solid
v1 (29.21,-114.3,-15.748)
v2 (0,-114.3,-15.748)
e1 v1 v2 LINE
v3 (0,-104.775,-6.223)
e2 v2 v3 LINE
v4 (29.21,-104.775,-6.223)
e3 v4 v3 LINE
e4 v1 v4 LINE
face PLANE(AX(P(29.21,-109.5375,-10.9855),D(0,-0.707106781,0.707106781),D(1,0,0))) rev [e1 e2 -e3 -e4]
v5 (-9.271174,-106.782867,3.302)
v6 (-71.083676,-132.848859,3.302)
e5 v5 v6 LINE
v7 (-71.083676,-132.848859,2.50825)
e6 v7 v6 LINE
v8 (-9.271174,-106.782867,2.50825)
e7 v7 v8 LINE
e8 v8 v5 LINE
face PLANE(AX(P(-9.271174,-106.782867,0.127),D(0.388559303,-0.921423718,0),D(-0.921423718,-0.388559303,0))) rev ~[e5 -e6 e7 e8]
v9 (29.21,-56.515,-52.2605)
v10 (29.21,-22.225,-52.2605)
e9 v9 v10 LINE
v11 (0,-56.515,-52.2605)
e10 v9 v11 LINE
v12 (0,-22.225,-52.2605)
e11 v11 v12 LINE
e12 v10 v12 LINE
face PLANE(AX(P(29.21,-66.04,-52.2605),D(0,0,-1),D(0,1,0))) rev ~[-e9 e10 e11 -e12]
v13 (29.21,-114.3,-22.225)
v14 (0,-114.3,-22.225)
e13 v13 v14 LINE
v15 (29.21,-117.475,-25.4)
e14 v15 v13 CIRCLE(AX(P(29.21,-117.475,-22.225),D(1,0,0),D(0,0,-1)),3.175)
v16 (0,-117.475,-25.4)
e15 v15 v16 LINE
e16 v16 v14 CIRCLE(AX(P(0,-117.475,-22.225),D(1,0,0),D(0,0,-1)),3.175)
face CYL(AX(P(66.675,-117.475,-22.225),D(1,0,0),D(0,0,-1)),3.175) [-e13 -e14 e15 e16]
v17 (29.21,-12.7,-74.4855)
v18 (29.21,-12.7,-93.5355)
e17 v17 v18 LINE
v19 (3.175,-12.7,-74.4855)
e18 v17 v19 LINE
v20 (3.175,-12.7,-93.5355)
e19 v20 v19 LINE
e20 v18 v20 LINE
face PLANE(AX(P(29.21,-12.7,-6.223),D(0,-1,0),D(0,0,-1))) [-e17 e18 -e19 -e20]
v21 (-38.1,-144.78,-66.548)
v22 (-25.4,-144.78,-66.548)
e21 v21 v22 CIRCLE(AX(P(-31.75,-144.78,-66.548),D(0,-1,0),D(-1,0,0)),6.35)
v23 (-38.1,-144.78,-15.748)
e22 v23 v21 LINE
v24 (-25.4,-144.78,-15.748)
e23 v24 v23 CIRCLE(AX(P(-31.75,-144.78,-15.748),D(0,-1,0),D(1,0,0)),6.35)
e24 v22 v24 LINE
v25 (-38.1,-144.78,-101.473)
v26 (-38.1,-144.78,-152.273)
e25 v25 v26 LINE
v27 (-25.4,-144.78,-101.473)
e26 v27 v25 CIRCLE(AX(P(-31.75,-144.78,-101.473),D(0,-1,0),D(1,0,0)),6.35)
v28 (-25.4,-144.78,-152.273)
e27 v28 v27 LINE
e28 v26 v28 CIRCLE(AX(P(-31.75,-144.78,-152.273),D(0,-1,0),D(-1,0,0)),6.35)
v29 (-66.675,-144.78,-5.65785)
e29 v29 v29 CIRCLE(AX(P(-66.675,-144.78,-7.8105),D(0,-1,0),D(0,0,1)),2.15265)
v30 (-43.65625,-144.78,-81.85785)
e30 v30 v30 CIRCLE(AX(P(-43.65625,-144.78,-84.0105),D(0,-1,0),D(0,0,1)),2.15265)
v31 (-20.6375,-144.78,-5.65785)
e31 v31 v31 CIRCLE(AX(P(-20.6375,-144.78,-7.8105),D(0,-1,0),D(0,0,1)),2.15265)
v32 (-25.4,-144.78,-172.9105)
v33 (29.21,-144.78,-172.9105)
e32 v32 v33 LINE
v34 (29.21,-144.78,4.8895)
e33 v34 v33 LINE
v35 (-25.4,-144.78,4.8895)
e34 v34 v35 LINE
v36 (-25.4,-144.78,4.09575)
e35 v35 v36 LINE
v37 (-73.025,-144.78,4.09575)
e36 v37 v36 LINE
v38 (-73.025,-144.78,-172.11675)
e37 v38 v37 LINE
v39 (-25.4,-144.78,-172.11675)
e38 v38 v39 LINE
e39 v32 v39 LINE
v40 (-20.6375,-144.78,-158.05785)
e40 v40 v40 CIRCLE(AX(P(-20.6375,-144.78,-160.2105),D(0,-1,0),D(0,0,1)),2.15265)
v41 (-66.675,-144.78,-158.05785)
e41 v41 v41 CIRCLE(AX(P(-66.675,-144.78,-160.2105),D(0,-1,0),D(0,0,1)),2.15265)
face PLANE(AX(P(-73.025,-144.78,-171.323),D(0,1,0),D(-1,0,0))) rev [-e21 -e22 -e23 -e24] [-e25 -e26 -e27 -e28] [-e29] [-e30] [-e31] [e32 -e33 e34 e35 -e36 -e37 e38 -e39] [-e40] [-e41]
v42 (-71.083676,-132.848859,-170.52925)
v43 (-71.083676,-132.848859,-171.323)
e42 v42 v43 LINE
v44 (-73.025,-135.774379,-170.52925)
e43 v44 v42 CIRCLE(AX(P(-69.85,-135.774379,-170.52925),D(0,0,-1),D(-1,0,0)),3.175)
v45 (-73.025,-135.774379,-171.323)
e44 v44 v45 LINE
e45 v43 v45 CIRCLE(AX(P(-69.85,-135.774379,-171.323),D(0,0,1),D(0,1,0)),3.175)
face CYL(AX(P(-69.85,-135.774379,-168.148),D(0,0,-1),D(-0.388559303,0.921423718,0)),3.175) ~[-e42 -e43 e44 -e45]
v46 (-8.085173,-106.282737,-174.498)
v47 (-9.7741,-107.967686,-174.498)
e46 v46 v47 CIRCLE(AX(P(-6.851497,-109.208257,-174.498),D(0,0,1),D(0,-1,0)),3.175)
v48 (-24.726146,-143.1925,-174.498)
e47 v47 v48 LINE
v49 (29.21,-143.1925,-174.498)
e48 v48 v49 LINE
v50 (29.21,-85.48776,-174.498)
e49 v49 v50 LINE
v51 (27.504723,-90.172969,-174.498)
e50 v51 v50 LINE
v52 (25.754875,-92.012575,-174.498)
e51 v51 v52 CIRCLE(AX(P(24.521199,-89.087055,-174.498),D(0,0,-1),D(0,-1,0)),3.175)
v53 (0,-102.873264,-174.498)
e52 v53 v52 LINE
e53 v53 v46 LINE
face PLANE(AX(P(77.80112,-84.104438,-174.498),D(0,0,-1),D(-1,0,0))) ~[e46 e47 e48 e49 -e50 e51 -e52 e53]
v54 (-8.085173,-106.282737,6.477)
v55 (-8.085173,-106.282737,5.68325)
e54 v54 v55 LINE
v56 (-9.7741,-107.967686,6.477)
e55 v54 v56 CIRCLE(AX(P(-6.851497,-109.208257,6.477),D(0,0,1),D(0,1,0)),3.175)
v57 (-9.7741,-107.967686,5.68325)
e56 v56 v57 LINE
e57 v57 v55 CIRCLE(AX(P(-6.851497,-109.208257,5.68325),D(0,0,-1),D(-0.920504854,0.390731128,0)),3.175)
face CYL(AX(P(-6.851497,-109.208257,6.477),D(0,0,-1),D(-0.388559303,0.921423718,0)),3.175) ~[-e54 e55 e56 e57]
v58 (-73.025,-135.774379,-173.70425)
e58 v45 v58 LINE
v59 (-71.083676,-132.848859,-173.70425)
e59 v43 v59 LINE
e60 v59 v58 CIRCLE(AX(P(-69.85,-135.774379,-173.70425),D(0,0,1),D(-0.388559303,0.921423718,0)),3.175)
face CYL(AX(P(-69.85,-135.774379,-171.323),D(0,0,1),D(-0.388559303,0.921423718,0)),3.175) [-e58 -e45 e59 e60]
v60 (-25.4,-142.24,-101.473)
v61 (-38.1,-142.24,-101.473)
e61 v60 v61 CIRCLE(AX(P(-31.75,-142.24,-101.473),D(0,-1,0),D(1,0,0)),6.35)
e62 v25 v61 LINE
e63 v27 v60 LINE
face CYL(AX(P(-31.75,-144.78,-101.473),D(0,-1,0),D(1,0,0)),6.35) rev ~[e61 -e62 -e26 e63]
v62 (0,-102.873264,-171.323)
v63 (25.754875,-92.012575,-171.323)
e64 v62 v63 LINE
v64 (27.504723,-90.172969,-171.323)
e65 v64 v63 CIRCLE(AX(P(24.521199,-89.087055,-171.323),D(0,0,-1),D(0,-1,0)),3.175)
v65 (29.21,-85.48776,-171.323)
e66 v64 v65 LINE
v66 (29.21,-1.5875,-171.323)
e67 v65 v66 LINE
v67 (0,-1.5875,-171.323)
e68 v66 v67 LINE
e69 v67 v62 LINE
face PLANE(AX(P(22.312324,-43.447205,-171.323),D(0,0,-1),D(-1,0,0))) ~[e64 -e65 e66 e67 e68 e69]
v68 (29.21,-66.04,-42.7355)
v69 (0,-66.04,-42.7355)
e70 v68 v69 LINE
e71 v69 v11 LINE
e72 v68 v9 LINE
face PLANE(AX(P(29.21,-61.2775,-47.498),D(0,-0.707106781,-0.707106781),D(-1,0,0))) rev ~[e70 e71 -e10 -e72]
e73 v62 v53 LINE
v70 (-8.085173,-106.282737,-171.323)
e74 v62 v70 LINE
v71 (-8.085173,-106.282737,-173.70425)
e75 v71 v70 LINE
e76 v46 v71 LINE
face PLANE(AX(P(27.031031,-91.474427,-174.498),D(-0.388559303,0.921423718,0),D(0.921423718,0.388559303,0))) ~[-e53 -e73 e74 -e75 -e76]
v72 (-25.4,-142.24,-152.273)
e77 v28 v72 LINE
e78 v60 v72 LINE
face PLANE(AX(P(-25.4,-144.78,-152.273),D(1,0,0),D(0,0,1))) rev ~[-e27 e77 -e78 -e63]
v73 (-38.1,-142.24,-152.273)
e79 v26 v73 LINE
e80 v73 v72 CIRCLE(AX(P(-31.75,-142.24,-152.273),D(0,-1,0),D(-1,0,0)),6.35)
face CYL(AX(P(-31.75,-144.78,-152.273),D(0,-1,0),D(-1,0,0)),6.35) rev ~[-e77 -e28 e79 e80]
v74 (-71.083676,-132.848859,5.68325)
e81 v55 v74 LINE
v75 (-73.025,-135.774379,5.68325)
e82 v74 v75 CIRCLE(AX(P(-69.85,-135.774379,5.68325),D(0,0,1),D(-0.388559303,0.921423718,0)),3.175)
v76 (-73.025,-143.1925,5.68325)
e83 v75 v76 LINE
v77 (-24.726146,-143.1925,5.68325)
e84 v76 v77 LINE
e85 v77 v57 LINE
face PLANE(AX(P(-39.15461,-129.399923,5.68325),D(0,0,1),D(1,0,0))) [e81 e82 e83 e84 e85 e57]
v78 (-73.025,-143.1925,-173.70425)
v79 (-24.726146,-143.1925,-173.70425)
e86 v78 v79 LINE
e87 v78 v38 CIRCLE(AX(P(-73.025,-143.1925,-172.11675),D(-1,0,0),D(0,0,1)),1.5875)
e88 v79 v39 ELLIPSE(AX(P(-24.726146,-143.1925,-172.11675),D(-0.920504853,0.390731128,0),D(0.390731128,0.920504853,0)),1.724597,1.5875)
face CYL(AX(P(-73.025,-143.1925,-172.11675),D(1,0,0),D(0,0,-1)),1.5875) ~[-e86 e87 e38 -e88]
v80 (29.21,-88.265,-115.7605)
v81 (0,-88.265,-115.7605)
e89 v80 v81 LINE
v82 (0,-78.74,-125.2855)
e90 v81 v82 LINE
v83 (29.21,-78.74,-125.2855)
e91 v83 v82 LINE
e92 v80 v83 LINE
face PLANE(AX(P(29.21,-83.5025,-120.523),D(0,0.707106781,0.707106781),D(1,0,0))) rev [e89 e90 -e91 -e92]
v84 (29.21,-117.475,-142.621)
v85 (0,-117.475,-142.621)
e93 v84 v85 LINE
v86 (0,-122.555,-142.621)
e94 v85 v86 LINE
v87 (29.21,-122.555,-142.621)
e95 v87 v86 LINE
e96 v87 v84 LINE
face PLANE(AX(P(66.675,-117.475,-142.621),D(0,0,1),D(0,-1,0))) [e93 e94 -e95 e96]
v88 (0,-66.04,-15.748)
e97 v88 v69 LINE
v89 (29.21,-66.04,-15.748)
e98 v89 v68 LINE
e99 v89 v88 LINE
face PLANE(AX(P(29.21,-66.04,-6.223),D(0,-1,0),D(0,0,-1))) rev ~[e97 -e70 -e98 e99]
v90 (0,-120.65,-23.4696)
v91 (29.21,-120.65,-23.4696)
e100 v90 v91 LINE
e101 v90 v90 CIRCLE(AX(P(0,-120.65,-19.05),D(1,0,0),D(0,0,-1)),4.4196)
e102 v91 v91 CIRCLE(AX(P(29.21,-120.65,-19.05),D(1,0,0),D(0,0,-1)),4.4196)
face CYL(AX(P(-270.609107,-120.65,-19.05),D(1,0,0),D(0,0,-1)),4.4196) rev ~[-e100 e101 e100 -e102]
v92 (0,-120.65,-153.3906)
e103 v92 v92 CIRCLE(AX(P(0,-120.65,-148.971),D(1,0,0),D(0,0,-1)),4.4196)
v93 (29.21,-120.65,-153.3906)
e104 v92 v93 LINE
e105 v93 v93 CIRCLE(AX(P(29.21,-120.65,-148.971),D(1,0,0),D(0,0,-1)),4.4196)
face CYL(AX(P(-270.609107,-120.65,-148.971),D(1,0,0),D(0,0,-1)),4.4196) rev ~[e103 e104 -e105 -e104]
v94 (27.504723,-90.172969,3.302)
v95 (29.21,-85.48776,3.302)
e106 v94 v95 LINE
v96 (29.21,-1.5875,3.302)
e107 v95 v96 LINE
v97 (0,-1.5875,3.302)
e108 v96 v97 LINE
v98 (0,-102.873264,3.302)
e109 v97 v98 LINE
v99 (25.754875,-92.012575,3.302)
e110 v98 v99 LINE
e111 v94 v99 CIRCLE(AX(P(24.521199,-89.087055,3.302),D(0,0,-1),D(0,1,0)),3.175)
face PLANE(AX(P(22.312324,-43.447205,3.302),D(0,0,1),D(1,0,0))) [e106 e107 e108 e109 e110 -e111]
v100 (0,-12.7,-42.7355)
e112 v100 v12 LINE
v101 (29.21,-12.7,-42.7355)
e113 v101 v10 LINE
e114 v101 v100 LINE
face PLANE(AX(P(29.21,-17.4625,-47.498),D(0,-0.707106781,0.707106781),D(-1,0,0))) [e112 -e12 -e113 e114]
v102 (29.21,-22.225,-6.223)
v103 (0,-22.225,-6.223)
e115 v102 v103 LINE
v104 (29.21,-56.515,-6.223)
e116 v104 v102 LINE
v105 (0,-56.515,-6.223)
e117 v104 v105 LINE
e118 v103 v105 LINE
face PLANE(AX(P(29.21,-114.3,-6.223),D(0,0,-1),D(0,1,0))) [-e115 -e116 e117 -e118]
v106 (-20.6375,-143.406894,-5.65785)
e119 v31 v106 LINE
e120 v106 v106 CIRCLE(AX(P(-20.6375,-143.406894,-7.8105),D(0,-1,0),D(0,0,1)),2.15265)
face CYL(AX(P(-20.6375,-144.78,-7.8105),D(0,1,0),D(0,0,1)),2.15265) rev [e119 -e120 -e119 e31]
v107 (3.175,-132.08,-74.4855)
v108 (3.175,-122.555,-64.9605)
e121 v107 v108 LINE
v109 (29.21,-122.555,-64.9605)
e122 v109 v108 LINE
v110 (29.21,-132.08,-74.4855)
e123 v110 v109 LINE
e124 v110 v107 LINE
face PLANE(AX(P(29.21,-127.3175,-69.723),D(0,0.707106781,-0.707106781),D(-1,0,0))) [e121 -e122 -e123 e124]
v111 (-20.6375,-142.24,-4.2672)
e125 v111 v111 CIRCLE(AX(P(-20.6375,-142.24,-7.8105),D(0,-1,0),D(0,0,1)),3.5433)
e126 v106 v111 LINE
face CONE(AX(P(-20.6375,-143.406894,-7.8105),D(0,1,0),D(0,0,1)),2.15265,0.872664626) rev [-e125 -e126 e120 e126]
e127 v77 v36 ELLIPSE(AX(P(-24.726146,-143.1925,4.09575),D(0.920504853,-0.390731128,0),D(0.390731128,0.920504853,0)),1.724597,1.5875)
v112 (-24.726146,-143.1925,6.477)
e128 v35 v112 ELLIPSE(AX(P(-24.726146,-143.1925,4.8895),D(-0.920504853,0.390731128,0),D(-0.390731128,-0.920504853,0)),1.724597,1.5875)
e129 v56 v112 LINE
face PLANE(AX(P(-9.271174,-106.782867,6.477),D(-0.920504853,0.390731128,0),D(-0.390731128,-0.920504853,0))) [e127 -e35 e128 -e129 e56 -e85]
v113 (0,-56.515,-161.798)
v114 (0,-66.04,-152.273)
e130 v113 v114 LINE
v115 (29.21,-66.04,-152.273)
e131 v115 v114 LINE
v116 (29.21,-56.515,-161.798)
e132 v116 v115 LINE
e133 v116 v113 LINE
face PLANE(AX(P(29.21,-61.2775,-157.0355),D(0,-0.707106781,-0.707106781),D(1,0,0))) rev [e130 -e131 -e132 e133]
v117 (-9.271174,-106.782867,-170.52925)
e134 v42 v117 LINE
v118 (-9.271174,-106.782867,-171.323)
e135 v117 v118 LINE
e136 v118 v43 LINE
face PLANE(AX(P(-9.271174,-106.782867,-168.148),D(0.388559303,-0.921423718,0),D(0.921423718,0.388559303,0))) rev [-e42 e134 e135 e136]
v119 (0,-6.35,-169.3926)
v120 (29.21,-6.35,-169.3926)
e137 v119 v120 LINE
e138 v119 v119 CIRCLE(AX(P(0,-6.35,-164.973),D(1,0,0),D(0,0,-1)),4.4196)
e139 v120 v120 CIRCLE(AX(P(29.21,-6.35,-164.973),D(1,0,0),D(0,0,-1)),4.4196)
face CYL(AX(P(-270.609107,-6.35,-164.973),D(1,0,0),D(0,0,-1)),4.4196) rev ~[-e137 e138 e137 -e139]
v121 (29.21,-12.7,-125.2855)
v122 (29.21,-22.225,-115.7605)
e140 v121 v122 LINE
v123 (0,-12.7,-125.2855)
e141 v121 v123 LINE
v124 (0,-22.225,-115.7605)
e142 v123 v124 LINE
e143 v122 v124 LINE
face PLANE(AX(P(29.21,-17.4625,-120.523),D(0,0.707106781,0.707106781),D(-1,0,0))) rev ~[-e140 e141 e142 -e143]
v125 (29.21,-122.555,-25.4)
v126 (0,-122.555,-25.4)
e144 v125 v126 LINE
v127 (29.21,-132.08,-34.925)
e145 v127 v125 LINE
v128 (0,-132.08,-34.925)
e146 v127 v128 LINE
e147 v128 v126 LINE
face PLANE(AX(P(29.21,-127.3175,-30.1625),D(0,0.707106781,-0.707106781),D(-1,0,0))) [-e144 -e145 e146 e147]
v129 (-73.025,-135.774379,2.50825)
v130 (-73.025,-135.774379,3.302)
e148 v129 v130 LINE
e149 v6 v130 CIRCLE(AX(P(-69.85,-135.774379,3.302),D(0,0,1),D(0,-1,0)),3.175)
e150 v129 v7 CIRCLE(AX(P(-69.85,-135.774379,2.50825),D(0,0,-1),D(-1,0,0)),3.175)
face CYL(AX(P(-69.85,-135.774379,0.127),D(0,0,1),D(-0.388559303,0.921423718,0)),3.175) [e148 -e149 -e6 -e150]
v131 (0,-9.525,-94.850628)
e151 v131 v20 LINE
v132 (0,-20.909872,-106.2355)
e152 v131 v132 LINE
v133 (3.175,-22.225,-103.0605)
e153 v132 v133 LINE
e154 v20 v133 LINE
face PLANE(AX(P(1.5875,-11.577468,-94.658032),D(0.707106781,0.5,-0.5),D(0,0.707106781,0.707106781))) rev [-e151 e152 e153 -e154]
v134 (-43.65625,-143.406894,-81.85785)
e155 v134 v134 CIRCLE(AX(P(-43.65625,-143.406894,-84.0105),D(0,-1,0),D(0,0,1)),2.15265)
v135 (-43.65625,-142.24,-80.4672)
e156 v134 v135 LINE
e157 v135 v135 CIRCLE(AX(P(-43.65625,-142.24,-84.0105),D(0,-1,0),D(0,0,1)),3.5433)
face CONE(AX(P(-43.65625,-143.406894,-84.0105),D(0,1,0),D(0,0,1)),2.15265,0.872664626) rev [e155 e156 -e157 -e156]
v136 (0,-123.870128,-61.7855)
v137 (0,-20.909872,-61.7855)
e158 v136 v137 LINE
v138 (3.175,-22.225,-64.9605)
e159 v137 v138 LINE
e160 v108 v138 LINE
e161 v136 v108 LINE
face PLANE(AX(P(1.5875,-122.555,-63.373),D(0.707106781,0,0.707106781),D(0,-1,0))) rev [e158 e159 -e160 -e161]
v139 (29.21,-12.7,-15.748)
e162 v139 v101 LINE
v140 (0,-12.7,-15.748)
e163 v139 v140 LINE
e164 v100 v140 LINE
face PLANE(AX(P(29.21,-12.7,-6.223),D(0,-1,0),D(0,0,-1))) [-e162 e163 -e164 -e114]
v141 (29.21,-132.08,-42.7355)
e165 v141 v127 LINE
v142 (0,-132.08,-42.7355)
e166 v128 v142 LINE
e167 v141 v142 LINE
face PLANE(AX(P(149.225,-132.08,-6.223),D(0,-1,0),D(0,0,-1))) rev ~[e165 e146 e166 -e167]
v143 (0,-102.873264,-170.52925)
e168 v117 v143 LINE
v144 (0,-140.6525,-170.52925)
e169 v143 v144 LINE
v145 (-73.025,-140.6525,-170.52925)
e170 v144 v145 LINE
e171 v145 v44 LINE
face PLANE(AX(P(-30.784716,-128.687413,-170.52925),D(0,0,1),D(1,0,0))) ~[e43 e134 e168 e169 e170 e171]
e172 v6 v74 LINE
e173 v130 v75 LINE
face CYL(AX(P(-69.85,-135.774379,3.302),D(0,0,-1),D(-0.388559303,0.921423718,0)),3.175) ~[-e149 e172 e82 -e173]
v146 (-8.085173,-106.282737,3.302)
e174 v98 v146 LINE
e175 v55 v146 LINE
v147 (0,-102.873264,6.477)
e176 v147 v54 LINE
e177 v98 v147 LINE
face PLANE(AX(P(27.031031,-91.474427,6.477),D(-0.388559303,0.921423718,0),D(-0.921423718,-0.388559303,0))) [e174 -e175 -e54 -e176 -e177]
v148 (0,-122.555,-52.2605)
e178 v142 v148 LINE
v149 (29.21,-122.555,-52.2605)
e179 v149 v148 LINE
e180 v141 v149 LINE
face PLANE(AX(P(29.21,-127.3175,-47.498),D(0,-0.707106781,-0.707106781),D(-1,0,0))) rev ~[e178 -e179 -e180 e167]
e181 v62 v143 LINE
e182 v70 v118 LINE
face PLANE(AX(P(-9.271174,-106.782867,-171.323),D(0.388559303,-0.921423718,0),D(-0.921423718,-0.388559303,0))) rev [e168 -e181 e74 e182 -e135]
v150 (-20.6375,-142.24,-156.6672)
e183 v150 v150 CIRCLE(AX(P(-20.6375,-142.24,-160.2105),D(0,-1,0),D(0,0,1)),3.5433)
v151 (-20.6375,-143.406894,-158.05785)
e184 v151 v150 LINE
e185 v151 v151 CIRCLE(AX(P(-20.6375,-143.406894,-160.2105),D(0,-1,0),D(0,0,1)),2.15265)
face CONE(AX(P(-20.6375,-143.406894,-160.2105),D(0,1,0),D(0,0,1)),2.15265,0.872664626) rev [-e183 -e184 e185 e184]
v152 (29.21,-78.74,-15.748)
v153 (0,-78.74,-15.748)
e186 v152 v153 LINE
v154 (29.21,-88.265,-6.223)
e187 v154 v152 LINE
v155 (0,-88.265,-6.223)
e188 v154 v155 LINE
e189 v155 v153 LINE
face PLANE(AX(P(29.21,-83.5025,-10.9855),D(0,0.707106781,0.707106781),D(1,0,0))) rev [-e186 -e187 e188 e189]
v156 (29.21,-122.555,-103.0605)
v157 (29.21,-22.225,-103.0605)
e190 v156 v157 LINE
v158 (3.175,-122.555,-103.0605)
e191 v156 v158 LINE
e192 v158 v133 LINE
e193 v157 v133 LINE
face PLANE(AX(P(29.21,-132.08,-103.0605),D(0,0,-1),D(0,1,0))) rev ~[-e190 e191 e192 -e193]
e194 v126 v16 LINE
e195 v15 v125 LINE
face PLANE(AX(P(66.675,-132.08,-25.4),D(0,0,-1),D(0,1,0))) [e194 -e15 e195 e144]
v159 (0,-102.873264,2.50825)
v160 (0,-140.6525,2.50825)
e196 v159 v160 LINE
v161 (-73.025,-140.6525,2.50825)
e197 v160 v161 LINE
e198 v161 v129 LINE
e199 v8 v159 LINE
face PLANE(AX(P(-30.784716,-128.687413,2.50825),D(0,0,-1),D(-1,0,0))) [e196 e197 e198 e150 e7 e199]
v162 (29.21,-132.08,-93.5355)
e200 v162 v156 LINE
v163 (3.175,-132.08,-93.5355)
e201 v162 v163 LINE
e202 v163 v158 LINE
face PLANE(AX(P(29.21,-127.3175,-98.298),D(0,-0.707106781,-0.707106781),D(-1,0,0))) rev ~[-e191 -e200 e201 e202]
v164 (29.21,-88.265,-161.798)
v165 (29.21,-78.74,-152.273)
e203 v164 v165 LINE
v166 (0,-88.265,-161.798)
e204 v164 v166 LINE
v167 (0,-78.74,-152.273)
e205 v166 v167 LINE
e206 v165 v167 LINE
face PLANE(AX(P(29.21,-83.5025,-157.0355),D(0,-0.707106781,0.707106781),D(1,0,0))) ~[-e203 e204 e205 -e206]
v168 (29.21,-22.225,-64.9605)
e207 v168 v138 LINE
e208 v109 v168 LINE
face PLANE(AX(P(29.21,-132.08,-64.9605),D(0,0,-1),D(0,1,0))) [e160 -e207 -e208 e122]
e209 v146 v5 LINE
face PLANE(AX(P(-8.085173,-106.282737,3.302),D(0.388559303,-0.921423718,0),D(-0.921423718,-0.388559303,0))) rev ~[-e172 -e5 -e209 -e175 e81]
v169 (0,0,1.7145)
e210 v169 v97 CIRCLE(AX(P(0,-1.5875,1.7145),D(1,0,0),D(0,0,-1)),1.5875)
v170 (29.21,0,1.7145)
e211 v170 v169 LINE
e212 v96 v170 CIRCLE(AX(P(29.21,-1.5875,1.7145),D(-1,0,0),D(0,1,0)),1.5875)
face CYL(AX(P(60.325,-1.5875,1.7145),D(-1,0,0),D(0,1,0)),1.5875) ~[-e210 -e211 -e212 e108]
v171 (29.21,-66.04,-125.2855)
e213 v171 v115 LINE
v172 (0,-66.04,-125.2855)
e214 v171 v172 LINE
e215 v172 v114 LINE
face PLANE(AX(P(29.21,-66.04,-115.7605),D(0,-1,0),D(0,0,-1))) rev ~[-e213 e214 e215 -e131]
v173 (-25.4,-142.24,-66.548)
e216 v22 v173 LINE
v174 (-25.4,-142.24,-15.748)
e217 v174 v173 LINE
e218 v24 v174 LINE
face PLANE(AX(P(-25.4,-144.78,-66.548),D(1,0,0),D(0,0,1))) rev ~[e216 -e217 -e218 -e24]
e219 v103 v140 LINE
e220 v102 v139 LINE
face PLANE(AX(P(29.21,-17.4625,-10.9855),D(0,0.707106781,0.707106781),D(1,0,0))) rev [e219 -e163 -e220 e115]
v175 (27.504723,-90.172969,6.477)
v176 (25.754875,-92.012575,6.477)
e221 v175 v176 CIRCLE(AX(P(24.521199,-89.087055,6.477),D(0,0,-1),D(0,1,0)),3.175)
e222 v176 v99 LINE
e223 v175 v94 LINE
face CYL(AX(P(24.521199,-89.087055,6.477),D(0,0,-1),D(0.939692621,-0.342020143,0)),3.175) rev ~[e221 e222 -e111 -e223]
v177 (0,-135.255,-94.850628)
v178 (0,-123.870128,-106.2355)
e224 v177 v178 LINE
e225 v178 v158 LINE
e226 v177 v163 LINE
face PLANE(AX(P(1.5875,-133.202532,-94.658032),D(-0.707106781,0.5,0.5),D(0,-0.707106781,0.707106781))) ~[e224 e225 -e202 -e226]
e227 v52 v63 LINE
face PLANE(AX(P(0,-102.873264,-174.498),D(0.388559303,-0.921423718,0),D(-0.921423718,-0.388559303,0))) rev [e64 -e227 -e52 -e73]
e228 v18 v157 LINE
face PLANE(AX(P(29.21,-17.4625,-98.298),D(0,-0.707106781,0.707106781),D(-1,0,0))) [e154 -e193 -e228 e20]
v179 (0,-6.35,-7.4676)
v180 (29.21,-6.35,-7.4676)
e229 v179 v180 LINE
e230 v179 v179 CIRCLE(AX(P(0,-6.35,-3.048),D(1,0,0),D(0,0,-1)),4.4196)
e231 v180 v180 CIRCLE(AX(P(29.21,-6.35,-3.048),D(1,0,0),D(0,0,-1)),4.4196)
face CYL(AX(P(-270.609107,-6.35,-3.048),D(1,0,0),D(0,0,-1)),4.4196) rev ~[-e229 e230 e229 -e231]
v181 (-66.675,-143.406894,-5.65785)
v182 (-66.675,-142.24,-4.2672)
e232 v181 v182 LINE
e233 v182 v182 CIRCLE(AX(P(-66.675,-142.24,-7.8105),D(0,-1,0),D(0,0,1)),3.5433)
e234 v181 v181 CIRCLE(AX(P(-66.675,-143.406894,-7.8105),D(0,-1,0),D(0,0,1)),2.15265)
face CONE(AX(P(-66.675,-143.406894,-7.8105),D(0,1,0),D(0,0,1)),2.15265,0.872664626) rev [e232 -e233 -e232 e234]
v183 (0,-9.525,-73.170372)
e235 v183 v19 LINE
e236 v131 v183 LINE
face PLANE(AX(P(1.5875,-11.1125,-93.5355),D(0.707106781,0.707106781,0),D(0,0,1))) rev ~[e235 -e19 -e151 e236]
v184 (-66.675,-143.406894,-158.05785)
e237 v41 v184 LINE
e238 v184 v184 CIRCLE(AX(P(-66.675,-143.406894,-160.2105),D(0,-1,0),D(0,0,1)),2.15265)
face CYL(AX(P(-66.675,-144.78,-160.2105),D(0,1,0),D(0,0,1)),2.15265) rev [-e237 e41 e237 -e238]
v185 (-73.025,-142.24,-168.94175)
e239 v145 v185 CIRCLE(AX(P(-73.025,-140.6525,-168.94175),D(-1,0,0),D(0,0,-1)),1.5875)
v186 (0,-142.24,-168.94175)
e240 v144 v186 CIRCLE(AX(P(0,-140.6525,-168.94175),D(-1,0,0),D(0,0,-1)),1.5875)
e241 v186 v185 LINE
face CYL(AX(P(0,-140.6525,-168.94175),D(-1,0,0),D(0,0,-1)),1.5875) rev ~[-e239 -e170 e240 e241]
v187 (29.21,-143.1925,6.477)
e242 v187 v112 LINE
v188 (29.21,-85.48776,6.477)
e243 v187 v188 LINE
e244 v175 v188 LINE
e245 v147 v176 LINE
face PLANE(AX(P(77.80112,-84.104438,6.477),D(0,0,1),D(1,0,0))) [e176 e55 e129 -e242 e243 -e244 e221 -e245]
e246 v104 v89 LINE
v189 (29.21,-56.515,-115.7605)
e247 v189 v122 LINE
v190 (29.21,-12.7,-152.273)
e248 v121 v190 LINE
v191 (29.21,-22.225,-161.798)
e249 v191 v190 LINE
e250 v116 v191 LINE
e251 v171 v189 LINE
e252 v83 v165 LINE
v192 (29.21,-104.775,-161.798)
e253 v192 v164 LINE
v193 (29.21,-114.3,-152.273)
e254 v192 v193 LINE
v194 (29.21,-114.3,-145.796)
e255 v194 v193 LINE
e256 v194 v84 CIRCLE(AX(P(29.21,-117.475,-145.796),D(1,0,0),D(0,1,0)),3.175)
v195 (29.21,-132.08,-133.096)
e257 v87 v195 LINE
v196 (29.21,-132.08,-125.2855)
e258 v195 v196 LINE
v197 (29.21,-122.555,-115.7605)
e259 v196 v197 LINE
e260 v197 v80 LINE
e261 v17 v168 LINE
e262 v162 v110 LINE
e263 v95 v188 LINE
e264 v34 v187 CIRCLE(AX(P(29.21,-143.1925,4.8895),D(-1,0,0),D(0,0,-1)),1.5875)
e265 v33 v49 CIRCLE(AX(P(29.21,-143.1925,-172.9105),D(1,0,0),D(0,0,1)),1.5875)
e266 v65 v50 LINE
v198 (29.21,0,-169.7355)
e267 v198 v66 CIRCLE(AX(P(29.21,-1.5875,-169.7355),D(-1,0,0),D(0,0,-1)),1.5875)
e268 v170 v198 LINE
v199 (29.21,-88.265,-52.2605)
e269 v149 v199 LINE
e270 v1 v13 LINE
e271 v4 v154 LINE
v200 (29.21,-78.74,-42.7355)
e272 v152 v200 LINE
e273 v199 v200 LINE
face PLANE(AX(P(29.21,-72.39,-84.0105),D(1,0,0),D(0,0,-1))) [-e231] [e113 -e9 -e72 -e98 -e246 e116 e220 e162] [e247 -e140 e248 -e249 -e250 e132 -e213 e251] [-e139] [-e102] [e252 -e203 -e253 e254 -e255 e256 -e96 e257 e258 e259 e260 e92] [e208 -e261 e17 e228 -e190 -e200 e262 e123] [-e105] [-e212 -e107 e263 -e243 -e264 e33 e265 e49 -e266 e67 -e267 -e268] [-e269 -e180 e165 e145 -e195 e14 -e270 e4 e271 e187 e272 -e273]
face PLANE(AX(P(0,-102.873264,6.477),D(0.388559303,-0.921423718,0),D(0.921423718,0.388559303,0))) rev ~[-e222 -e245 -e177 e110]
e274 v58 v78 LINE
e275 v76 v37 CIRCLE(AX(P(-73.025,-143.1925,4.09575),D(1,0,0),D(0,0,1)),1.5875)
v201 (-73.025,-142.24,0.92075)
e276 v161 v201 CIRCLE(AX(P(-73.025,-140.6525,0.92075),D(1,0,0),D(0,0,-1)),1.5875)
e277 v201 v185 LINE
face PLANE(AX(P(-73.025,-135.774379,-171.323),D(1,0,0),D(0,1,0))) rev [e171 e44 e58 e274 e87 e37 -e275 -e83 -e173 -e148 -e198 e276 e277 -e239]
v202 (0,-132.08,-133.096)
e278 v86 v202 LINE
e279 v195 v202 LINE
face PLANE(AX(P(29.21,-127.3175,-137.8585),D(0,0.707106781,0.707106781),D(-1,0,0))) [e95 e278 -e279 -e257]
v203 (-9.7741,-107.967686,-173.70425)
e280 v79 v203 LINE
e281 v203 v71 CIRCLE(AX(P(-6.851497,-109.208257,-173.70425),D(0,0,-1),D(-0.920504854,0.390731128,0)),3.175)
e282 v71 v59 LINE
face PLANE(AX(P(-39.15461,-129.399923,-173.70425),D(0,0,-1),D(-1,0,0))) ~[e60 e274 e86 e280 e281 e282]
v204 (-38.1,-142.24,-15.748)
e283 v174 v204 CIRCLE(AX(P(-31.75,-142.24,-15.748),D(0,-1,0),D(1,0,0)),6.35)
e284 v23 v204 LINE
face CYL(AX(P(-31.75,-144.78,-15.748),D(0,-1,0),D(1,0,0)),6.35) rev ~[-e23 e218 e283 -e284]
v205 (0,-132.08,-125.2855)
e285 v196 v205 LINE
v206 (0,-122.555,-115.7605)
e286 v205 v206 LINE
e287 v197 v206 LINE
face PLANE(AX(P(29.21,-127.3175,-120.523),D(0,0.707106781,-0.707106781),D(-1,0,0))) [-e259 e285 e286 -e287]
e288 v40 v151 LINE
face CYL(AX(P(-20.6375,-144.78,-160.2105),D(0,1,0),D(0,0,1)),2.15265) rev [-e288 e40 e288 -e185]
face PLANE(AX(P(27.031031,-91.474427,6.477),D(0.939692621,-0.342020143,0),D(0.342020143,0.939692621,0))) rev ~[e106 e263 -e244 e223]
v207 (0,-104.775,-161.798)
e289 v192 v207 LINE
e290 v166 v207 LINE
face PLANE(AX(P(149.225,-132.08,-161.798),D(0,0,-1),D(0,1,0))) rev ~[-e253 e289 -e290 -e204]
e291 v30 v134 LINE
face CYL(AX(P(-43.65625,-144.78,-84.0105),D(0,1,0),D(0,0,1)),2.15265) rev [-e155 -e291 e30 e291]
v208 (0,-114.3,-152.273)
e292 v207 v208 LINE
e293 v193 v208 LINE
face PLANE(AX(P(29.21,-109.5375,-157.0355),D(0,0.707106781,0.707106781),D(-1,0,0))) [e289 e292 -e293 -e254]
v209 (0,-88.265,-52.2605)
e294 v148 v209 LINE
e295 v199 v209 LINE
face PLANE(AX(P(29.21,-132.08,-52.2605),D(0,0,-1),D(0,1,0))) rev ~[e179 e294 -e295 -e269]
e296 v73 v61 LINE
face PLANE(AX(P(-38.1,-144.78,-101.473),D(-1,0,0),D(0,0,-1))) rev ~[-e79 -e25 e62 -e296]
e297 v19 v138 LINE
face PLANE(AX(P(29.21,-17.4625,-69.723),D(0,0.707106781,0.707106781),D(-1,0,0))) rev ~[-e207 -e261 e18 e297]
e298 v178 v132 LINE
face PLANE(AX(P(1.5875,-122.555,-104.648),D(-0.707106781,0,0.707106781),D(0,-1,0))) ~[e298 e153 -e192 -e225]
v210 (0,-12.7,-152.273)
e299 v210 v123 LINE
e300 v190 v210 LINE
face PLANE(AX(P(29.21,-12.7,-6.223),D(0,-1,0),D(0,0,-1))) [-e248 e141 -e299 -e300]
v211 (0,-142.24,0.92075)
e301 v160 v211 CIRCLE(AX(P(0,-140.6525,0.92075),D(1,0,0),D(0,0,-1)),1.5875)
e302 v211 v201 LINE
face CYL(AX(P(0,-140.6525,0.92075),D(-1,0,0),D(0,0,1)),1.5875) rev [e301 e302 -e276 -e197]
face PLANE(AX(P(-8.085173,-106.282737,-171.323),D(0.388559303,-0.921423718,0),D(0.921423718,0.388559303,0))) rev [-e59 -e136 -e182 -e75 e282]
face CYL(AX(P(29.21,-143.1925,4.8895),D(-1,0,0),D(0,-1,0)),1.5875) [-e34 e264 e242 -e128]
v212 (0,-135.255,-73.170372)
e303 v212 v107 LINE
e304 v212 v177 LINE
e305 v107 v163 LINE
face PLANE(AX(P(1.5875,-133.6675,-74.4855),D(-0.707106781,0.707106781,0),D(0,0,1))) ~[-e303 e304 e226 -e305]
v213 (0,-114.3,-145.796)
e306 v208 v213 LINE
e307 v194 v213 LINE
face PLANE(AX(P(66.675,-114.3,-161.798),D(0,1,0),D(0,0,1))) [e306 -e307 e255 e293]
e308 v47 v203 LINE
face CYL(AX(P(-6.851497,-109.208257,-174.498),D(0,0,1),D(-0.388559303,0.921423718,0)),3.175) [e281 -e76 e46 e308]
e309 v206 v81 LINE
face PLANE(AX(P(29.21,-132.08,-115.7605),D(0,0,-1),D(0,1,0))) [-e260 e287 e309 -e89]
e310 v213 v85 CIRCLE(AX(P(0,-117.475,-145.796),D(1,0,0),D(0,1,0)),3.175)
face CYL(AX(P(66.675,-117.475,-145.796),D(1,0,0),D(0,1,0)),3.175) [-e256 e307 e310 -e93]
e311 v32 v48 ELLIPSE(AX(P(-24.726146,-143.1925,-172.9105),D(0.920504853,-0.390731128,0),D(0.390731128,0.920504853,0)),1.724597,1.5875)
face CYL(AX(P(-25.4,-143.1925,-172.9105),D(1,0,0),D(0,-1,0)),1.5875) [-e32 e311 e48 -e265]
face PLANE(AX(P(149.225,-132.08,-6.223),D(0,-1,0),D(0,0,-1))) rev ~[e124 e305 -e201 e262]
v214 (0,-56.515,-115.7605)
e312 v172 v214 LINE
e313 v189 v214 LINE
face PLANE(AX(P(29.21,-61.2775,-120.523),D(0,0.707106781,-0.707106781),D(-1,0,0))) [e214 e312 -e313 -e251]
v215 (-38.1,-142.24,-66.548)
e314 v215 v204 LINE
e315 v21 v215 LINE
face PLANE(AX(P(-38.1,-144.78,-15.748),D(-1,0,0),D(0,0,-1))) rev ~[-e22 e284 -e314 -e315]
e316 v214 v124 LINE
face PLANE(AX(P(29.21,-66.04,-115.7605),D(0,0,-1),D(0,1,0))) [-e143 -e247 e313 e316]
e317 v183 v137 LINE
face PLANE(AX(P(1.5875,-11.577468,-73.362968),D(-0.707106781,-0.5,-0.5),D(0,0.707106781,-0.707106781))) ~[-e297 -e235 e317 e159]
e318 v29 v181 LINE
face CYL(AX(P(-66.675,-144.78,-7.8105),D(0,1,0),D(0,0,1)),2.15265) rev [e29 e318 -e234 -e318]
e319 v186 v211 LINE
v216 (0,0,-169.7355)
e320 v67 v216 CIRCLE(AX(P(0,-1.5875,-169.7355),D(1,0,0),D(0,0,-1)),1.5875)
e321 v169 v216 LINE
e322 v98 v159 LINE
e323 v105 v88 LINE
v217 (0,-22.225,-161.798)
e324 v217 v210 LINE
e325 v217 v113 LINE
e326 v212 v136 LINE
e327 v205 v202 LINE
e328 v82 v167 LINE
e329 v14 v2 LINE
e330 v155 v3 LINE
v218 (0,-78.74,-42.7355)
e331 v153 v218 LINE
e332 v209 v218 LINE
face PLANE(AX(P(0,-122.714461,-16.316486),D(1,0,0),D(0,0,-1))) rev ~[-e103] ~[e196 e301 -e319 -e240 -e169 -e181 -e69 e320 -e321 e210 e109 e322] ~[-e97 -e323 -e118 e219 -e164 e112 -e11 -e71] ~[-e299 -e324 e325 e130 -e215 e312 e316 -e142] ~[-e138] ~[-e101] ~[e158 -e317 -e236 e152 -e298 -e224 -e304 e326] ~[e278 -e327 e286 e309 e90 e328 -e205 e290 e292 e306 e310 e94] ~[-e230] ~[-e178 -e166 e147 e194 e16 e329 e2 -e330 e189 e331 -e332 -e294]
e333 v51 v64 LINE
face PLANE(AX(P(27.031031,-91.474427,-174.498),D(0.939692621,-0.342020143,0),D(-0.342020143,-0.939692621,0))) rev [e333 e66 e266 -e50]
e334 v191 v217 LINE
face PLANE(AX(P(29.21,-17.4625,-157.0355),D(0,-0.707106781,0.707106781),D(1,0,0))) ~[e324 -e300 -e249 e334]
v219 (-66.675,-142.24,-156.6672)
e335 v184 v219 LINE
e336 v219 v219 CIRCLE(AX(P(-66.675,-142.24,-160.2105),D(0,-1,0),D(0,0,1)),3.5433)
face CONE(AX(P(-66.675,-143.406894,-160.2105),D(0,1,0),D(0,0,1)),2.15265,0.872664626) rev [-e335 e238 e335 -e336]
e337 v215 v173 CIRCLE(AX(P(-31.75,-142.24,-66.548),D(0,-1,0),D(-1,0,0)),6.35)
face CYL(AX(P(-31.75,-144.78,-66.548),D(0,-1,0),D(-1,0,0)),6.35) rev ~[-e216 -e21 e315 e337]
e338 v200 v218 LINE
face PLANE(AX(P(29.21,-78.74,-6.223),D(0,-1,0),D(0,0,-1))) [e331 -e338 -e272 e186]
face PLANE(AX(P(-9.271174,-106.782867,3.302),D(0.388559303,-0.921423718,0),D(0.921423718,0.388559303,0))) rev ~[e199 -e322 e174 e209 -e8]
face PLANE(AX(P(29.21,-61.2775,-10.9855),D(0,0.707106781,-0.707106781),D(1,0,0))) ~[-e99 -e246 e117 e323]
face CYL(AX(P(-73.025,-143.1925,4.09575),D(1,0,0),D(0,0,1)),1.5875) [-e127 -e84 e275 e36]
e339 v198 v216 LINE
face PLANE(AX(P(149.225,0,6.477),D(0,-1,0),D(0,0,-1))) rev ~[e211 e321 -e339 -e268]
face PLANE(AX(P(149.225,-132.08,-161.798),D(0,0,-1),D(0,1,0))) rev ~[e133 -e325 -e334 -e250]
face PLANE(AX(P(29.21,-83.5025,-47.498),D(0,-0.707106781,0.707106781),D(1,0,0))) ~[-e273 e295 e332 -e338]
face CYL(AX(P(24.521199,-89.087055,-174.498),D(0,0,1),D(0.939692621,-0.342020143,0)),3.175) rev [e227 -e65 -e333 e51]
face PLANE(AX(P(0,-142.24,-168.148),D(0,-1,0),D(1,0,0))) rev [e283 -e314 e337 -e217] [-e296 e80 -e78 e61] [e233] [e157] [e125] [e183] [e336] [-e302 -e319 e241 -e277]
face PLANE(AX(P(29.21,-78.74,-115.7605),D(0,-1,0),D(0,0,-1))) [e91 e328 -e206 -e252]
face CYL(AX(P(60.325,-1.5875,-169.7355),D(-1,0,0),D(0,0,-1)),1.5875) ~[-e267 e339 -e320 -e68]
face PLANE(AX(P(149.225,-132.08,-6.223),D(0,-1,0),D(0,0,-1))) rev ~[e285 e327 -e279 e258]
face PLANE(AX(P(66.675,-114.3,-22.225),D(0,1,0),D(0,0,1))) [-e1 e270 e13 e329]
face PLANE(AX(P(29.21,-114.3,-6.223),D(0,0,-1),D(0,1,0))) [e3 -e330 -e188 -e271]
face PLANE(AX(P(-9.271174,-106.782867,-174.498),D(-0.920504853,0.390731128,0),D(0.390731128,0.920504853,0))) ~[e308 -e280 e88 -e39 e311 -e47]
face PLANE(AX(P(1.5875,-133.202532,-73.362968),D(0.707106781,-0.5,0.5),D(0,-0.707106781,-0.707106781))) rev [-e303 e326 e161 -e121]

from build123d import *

# Parameters (mm, degrees)
SKETCH2_W                                 = 180.975
SKETCH2_H                                 = 144.78
BOSS_EXTRUDE1_DEPTH                       = 149.225
BOSS_EXTRUDE2_DEPTH                       = 3.175
BOSS_EXTRUDE3_DEPTH                       = 3.175
BOSS_EXTRUDE4_DEPTH                       = 3.175
CUT_EXTRUDE1_DEPTH                        = 3.175
SKETCH7_W                                 = 73.025
SKETCH7_H                                 = 171.45
BOSS_EXTRUDE6_DEPTH                       = 2.54
FILLET1_R                                 = 1.5875
SKETCH10_W                                = 155.575
SKETCH10_H                                = 119.38
CUT_EXTRUDE2_DEPTH                        = 223.25
FILLET3_R                                 = 3.175
CHAMFER1_SIZE                             = 6.35
FILLET4_R                                 = 6.35
SKETCH11_W                                = 180.975
SKETCH11_H                                = 144.78
CUT_EXTRUDE3_DEPTH                        = 82.55
CUT_EXTRUDE4_REACH                        = 146.78
BOSS_EXTRUDE7_DEPTH                       = 66.675
BOSS_EXTRUDE8_DEPTH                       = 9.525
S_0_348_DIAMETER_HOLE1_D                  = 8.8392
CSK_FOR_6_FLAT_HEAD_MACHINE_SCREW_2_COUNT = 2
CSK_FOR_6_FLAT_HEAD_MACHINE_SCREW_2_PITCH = 46.0375
CSK_FOR_6_FLAT_HEAD_MACHINE_SCREW_3_COUNT = 2
CSK_FOR_6_FLAT_HEAD_MACHINE_SCREW_3_PITCH = 159.201794608
CSK_FOR_6_FLAT_HEAD_MACHINE_SCREW_4_COUNT = 2
CSK_FOR_6_FLAT_HEAD_MACHINE_SCREW_4_PITCH = 152.4
CSK_FOR_6_FLAT_HEAD_MACHINE_SCREW_5_COUNT = 2
CSK_FOR_6_FLAT_HEAD_MACHINE_SCREW_5_PITCH = 79.600897304
F_1_4_CLEARANCE_HOLE1_D                   = 7.14248
SKETCH22_W                                = 180.975
SKETCH22_H                                = 144.78
RELIEF_FOR_MIP_FACE_SUPPORT_DEPTH         = 37.465
SKETCH23_W                                = 6.35
SKETCH23_H                                = 119.38
SKETCH23_W_2                              = 155.575
SKETCH23_H_2                              = 6.35
EXTRUDE_THIN1_DEPTH                       = 29.21
FILLET6_R                                 = 6.35
CUT_EXTRUDE5_DEPTH                        = 29.21
SKETCH25_W                                = 12.7
SKETCH25_H                                = 119.38
SKETCH25_W_2                              = 52.3875
SKETCH25_H_2                              = 12.7
EXTRUDE_THIN2_DEPTH                       = 29.21
CHAMFER2_SIZE                             = 9.525
CHAMFER3_SIZE                             = 3.175
BOSS_EXTRUDE9_DEPTH                       = 2.38125
CUT_EXTRUDE6_DEPTH                        = 2.38125
FILLET7_R                                 = 1.5875
FILLET8_R                                 = 1.5875


with BuildPart() as part:
    # Sketch2 → Boss-Extrude1 (new body)
    with BuildSketch(Plane(origin=(149.225, 0, 0), x_dir=(0, 0, -1), z_dir=(1, 0, 0))):
        with Locations((84.0105, -72.39)):
            Rectangle(SKETCH2_W, SKETCH2_H)
    extrude(amount=-BOSS_EXTRUDE1_DEPTH)

    # Sketch3<3> → Boss-Extrude2 (add)
    with BuildSketch(Plane.XY.offset(6.477)):
        Polygon((-9.271174074, -106.782867284), (-25.4, -144.78), (149.225, -144.78), (149.225, 0), (60.325, 0), (27.03103123, -91.474427399), align=None)
    extrude(amount=-BOSS_EXTRUDE2_DEPTH)



with BuildPart() as body_2:
    # Sketch4 → Boss-Extrude3 (new body)
    with BuildSketch(Plane.XY.offset(0.127)):
        Polygon((-73.025, -133.667504276), (-73.025, -144.78), (-25.4, -144.78), (-9.271174074, -106.782867284), align=None)
    extrude(amount=BOSS_EXTRUDE3_DEPTH)


with BuildPart() as part_1:
    add(part.part)

    add(body_2.part)  # Boss-Extrude4 merges body 2
    # Sketch5 → Boss-Extrude4 (add)
    with BuildSketch(Plane(origin=(0, 0, 3.302), x_dir=(-1, 0, 0), z_dir=(0, 0, -1))):
        Polygon((0, -102.873264278), (0, -144.78), (25.4, -144.78), (9.271174074, -106.782867284), align=None)
    extrude(amount=BOSS_EXTRUDE4_DEPTH)

    # Mirror5: part across plane


with BuildPart() as part_2:
    add(part_1.part)
    add(part_1.part.mirror(Plane.XY.offset(-84.0105)))

    # Sketch3 → Cut-Extrude1 (cut)
    with BuildSketch(Plane.XY.offset(6.477)):
        Polygon((27.03103123, -91.474427399), (60.325, 0), (0, 0), (0, -102.873264278), align=None)
    cut_extrude1 = extrude(amount=-CUT_EXTRUDE1_DEPTH, mode=Mode.SUBTRACT)

    # Mirror6: Cut-Extrude1 across plane
    add(cut_extrude1.mirror(Plane.XY.offset(-84.0105)), mode=Mode.SUBTRACT)

    # Sketch7 → Boss-Extrude6 (add)
    with BuildSketch(Plane.XZ.offset(144.78)):
        with Locations((-36.5125, -85.598)):
            Rectangle(SKETCH7_W, SKETCH7_H)
    extrude(amount=-BOSS_EXTRUDE6_DEPTH)

    # Fillet1
    fillet1_edges = [part_2.edges().sort_by_distance(p)[0] for p in [
        (30.1625, 0, 3.302),
        (30.1625, 0, -171.323),
    ]]
    fillet(fillet1_edges, radius=FILLET1_R)

    # Sketch10 → Cut-Extrude2 (cut, through all)
    with BuildSketch(Plane(origin=(149.225, 0, 0), x_dir=(0, 0, -1), z_dir=(1, 0, 0))):
        with Locations((84.0105, -72.39)):
            Rectangle(SKETCH10_W, SKETCH10_H)
    extrude(amount=-CUT_EXTRUDE2_DEPTH, mode=Mode.SUBTRACT)

    # Fillet3
    fillet3_edges = [part_2.edges().sort_by_distance(p)[0] for p in [
        (27.03103123, -91.474427399, 4.8895),
        (27.03103123, -91.474427399, -172.9105),
        (-9.271174074, -106.782867284, 4.8895),
        (-73.025, -133.667504276, 1.7145),
        (-73.025, -133.667504276, -169.7355),
        (-9.271174074, -106.782867284, -172.9105),
    ]]
    fillet(fillet3_edges, radius=FILLET3_R)

    # Chamfer1
    chamfer1_edges = [part_2.edges().sort_by_distance(p)[0] for p in [
        (74.6125, -12.7, -161.798),
        (74.6125, -132.08, -161.798),
        (74.6125, -132.08, -6.223),
        (74.6125, -12.7, -6.223),
    ]]
    chamfer(chamfer1_edges, length=CHAMFER1_SIZE)

    # Fillet4
    fillet4_edges = [part_2.edges().sort_by_distance(p)[0] for p in [
        (74.6125, -125.73, -6.223),
        (74.6125, -19.05, -6.223),
        (74.6125, -12.7, -155.448),
        (74.6125, -12.7, -12.573),
        (74.6125, -132.08, -155.448),
        (74.6125, -132.08, -12.573),
        (74.6125, -19.05, -161.798),
        (74.6125, -125.73, -161.798),
    ]]
    fillet(fillet4_edges, radius=FILLET4_R)

    # Sketch11 → Cut-Extrude3 (cut)
    with BuildSketch(Plane(origin=(149.225, 0, 0), x_dir=(0, 0, -1), z_dir=(1, 0, 0))):
        with Locations((84.0105, -72.39)):
            Rectangle(SKETCH11_W, SKETCH11_H)
    extrude(amount=-CUT_EXTRUDE3_DEPTH, mode=Mode.SUBTRACT)

    # Sketch12 → Cut-Extrude4 (cut, up to next)
    with BuildSketch(Plane.XZ.offset(144.78), mode=Mode.PRIVATE) as cut_extrude4_sk1:
        with BuildLine():
            Line((-38.1, -101.473), (-38.1, -152.273))
            ThreePointArc((-38.1, -152.273), (-31.75, -158.623), (-25.4, -152.273))
            Line((-25.4, -152.273), (-25.4, -101.473))
            ThreePointArc((-25.4, -101.473), (-31.75, -95.123), (-38.1, -101.473))
        make_face()
    cut_extrude4_tool1 = extrude(cut_extrude4_sk1.sketch, amount=-CUT_EXTRUDE4_REACH, mode=Mode.PRIVATE) & part_2.part
    add(cut_extrude4_tool1.solids().sort_by_distance((-31.75, -144.78, -126.873))[0], mode=Mode.SUBTRACT)
    # Sketch12 → Cut-Extrude4 (cut, up to next)
    with BuildSketch(Plane.XZ.offset(144.78), mode=Mode.PRIVATE) as cut_extrude4_sk2:
        with BuildLine():
            Line((-25.4, -66.548), (-25.4, -15.748))
            ThreePointArc((-25.4, -15.748), (-31.75, -9.398), (-38.1, -15.748))
            Line((-38.1, -15.748), (-38.1, -66.548))
            ThreePointArc((-38.1, -66.548), (-31.75, -72.898), (-25.4, -66.548))
        make_face()
    cut_extrude4_tool2 = extrude(cut_extrude4_sk2.sketch, amount=-CUT_EXTRUDE4_REACH, mode=Mode.PRIVATE) & part_2.part
    add(cut_extrude4_tool2.solids().sort_by_distance((-31.75, -144.78, -41.148))[0], mode=Mode.SUBTRACT)

    # Sketch18 → Boss-Extrude7 (add)
    with BuildSketch(Plane(origin=(66.675, 0, 0), x_dir=(0, 0, -1), z_dir=(1, 0, 0))):
        with BuildLine():
            Line((15.203256121, -132.08), (25.4, -132.08))
            Line((25.4, -132.08), (25.4, -117.475))
            ThreePointArc((25.4, -117.475), (24.47006403, -115.22993597), (22.225, -114.3))
            Line((22.225, -114.3), (6.223, -114.3))
            Line((6.223, -114.3), (6.223, -123.099743879))
            ThreePointArc((6.223, -123.099743879), (6.706364969, -125.529783674), (8.082871939, -127.589871939))
            Line((8.082871939, -127.589871939), (10.713128061, -130.220128061))
            ThreePointArc((10.713128061, -130.220128061), (12.773216326, -131.596635031), (15.203256121, -132.08))
        make_face()
        with BuildLine():
            Line((161.798, -123.099743879), (161.798, -114.3))
            Line((161.798, -114.3), (145.796, -114.3))
            ThreePointArc((145.796, -114.3), (143.55093597, -115.22993597), (142.621, -117.475))
            Line((142.621, -117.475), (142.621, -132.08))
            Line((142.621, -132.08), (152.817743879, -132.08))
            ThreePointArc((152.817743879, -132.08), (155.247783674, -131.596635031), (157.307871939, -130.220128061))
            Line((157.307871939, -130.220128061), (159.938128061, -127.589871939))
            ThreePointArc((159.938128061, -127.589871939), (161.314635031, -125.529783674), (161.798, -123.099743879))
        make_face()
    extrude(amount=-BOSS_EXTRUDE7_DEPTH)

    # Sketch18<3> → Boss-Extrude8 (add)
    with BuildSketch(Plane(origin=(66.675, 0, 0), x_dir=(0, 0, -1), z_dir=(1, 0, 0))):
        with BuildLine():
            Line((145.796, -30.48), (161.798, -30.48))
            Line((161.798, -30.48), (161.798, -21.680256121))
            ThreePointArc((161.798, -21.680256121), (161.314635031, -19.250216326), (159.938128061, -17.190128061))
            Line((159.938128061, -17.190128061), (157.307871939, -14.559871939))
            ThreePointArc((157.307871939, -14.559871939), (155.247783674, -13.183364969), (152.817743879, -12.7))
            Line((152.817743879, -12.7), (142.621, -12.7))
            Line((142.621, -12.7), (142.621, -27.305))
            ThreePointArc((142.621, -27.305), (143.55093597, -29.55006403), (145.796, -30.48))
        make_face()
        with BuildLine():
            Line((25.4, -27.305), (25.4, -12.7))
            Line((25.4, -12.7), (15.203256121, -12.7))
            ThreePointArc((15.203256121, -12.7), (12.773216326, -13.183364969), (10.713128061, -14.559871939))
            Line((10.713128061, -14.559871939), (8.082871939, -17.190128061))
            ThreePointArc((8.082871939, -17.190128061), (6.706364969, -19.250216326), (6.223, -21.680256121))
            Line((6.223, -21.680256121), (6.223, -30.48))
            Line((6.223, -30.48), (22.225, -30.48))
            ThreePointArc((22.225, -30.48), (24.47006403, -29.55006403), (25.4, -27.305))
        make_face()
    extrude(amount=-BOSS_EXTRUDE8_DEPTH)

    # S (0.348) Diameter Hole1 (through all)
    with Locations(Plane.ZY):
        with Locations((-164.973, -6.35), (-3.048, -6.35), (-19.05, -120.65), (-148.971, -120.65)):
            Hole(S_0_348_DIAMETER_HOLE1_D / 2)

    # Sketch17 → CSK for #6 Flat Head Machine Screw (100)1 (revolve, cut)
    with BuildSketch(Plane(origin=(-20.6375, -142.24, -7.8105), x_dir=(0, 0, 1), z_dir=(1, 0, 0))):
        Polygon((0, 0), (0, 2.54), (2.15265, 2.54), (2.15265, 1.166893902), (3.5433, 0), align=None)
    csk_for_6_flat_head_machine_screw_100 = revolve(axis=Axis((-20.6375, -135.89, -7.8105), (0, -1, 0)), mode=Mode.SUBTRACT)

    # CSK for _6 Flat Head Machine Screw _ 2: CSK for #6 Flat Head Machine Screw (100)1 ×2
    with Locations(*[(-i * CSK_FOR_6_FLAT_HEAD_MACHINE_SCREW_2_PITCH, 0, 0) for i in range(1, CSK_FOR_6_FLAT_HEAD_MACHINE_SCREW_2_COUNT)]):
        add(csk_for_6_flat_head_machine_screw_100, mode=Mode.SUBTRACT)

    # CSK for _6 Flat Head Machine Screw _ 3: CSK for #6 Flat Head Machine Screw (100)1 ×2
    with Locations(*[Vector(-0.289177017, 0, -0.957275641) * (i * CSK_FOR_6_FLAT_HEAD_MACHINE_SCREW_3_PITCH) for i in range(1, CSK_FOR_6_FLAT_HEAD_MACHINE_SCREW_3_COUNT)]):
        add(csk_for_6_flat_head_machine_screw_100, mode=Mode.SUBTRACT)

    # CSK for _6 Flat Head Machine Screw _ 4: CSK for #6 Flat Head Machine Screw (100)1 ×2
    with Locations(*[(0, 0, -i * CSK_FOR_6_FLAT_HEAD_MACHINE_SCREW_4_PITCH) for i in range(1, CSK_FOR_6_FLAT_HEAD_MACHINE_SCREW_4_COUNT)]):
        add(csk_for_6_flat_head_machine_screw_100, mode=Mode.SUBTRACT)

    # CSK for _6 Flat Head Machine Screw _ 5: CSK for #6 Flat Head Machine Screw (100)1 ×2
    with Locations(*[Vector(-0.289177017, 0, -0.957275641) * (i * CSK_FOR_6_FLAT_HEAD_MACHINE_SCREW_5_PITCH) for i in range(1, CSK_FOR_6_FLAT_HEAD_MACHINE_SCREW_5_COUNT)]):
        add(csk_for_6_flat_head_machine_screw_100, mode=Mode.SUBTRACT)

    # 1/4 Clearance Hole1 (through all)
    with Locations(Plane.ZY.offset(-57.15)):
        with Locations((-19.05, -24.13), (-148.971, -24.13)):
            Hole(F_1_4_CLEARANCE_HOLE1_D / 2)

    # Sketch22 → Relief for MIP face support (cut)
    with BuildSketch(Plane(origin=(66.675, 0, 0), x_dir=(0, 0, -1), z_dir=(1, 0, 0))):
        with Locations((84.0105, -72.39)):
            Rectangle(SKETCH22_W, SKETCH22_H)
    extrude(amount=-RELIEF_FOR_MIP_FACE_SUPPORT_DEPTH, mode=Mode.SUBTRACT)

    # Sketch23 → Extrude-Thin1 (add)
    with BuildSketch(Plane(origin=(29.21, 0, 0), x_dir=(0, 0, -1), z_dir=(1, 0, 0))):
        with Locations((84.0105, -72.39)):
            Rectangle(SKETCH23_W, SKETCH23_H)
        with Locations((84.0105, -67.990128061)):
            Rectangle(SKETCH23_W_2, SKETCH23_H_2)
    extrude(amount=-EXTRUDE_THIN1_DEPTH)

    # Fillet6
    fillet6_edges = [part_2.edges().sort_by_distance(p)[0] for p in [
        (14.605, -132.08, -80.8355),
        (14.605, -71.165128061, -87.1855),
        (14.605, -12.7, -80.8355),
        (14.605, -64.815128061, -80.8355),
        (14.605, -132.08, -87.1855),
        (14.605, -12.7, -87.1855),
        (14.605, -64.815128061, -161.798),
        (14.605, -64.815128061, -87.1855),
        (14.605, -71.165128061, -161.798),
        (14.605, -71.165128061, -80.8355),
        (14.605, -64.815128061, -6.223),
        (14.605, -71.165128061, -6.223),
    ]]
    fillet(fillet6_edges, radius=FILLET6_R)

    # Sketch24 → Cut-Extrude5 (cut)
    with BuildSketch(Plane(origin=(29.21, 0, 0), x_dir=(0, 0, -1), z_dir=(1, 0, 0))):
        Polygon((25.4, -132.08), (25.4, -114.3), (6.223, -114.3), (6.223, -12.7), (161.798, -12.7), (161.798, -114.3), (142.621, -114.3), (142.621, -132.08), align=None)
    extrude(amount=-CUT_EXTRUDE5_DEPTH, mode=Mode.SUBTRACT)

    # Sketch25 → Extrude-Thin2 (add)
    with BuildSketch(Plane(origin=(29.21, 0, 0), x_dir=(0, 0, -1), z_dir=(1, 0, 0))):
        with Locations((58.6105, -72.39)):
            Rectangle(SKETCH25_W, SKETCH25_H)
        with Locations((32.41675, -72.39)):
            Rectangle(SKETCH25_W_2, SKETCH25_H_2)
        with Locations((135.60425, -72.39)):
            Rectangle(SKETCH25_W_2, SKETCH25_H_2)
        with Locations((109.4105, -72.39)):
            Rectangle(SKETCH25_W, SKETCH25_H)
    extrude(amount=-EXTRUDE_THIN2_DEPTH)

    # Chamfer2
    chamfer2_edges = [part_2.edges().sort_by_distance(p)[0] for p in [
        (14.605, -114.3, -6.223),
        (14.605, -132.08, -25.4),
        (14.605, -114.3, -161.798),
        (14.605, -132.08, -142.621),
        (14.605, -12.7, -6.223),
        (14.605, -12.7, -161.798),
        (14.605, -132.08, -52.2605),
        (14.605, -12.7, -52.2605),
        (14.605, -66.04, -52.2605),
        (14.605, -132.08, -64.9605),
        (14.605, -12.7, -64.9605),
        (14.605, -78.74, -52.2605),
        (14.605, -66.04, -6.223),
        (14.605, -78.74, -6.223),
        (14.605, -66.04, -161.798),
        (14.605, -66.04, -115.7605),
        (14.605, -78.74, -161.798),
        (14.605, -12.7, -115.7605),
        (14.605, -12.7, -103.0605),
        (14.605, -132.08, -103.0605),
        (14.605, -132.08, -115.7605),
        (14.605, -78.74, -115.7605),
    ]]
    chamfer(chamfer2_edges, length=CHAMFER2_SIZE)

    # Chamfer3
    chamfer3_edges = [part_2.edges().sort_by_distance(p)[0] for p in [
        (0, -12.7, -84.0105),
        (0, -72.39, -103.0605),
        (0, -72.39, -64.9605),
        (0, -132.08, -84.0105),
        (0, -17.4625, -98.298),
        (0, -17.4625, -69.723),
        (0, -127.3175, -69.723),
        (0, -127.3175, -98.298),
    ]]
    chamfer(chamfer3_edges, length=CHAMFER3_SIZE)

    # Sketch26 → Boss-Extrude9 (add)
    with BuildSketch(Plane.XY.offset(3.302)):
        with BuildLine():
            Line((-8.085172656, -106.282737023), (-71.083675787, -132.848858556))
            ThreePointArc((-71.083675787, -132.848858556), (-72.495519384, -134.018858371), (-73.025, -135.77437886))
            Line((-73.025, -135.77437886), (-73.025, -144.78))
            Line((-73.025, -144.78), (-25.4, -144.78))
            Line((-25.4, -144.78), (-9.774099778, -107.967685994))
            ThreePointArc((-9.774099778, -107.967685994), (-9.093912176, -106.960547695), (-8.085172656, -106.282737023))
        make_face()
    boss_extrude9 = extrude(amount=BOSS_EXTRUDE9_DEPTH)

    # Sketch28 → Cut-Extrude6 (cut)
    with BuildSketch(Plane(origin=(0, 0, 0.127), x_dir=(-1, 0, 0), z_dir=(0, 0, -1))):
        with BuildLine():
            Line((73.025, -142.24), (73.025, -135.77437886))
            ThreePointArc((73.025, -135.77437886), (72.495519384, -134.018858371), (71.083675787, -132.848858556))
            Line((71.083675787, -132.848858556), (0, -102.873264278))
            Line((0, -102.873264278), (0, -142.24))
            Line((0, -142.24), (73.025, -142.24))
        make_face()
    cut_extrude6 = extrude(amount=-CUT_EXTRUDE6_DEPTH, mode=Mode.SUBTRACT)

    # Mirror10: Boss-Extrude9, Cut-Extrude6 across plane
    add(boss_extrude9.mirror(Plane.XY.offset(-84.0105)))
    add(cut_extrude6.mirror(Plane.XY.offset(-84.0105)), mode=Mode.SUBTRACT)

    # Fillet7
    fillet7_edges = [part_2.edges().sort_by_distance(p)[0] for p in [
        (-49.2125, -144.78, 5.68325),
        (-36.5125, -142.24, 2.50825),
        (-49.2125, -144.78, -173.70425),
        (-36.5125, -142.24, -170.52925),
    ]]
    fillet(fillet7_edges, radius=FILLET7_R)

    # Fillet8
    fillet8_edges = [part_2.edges().sort_by_distance(p)[0] for p in [
        (1.905, -144.78, 6.477),
        (1.905, -144.78, -174.498),
    ]]
    fillet(fillet8_edges, radius=FILLET8_R)


solid = part_2.part
